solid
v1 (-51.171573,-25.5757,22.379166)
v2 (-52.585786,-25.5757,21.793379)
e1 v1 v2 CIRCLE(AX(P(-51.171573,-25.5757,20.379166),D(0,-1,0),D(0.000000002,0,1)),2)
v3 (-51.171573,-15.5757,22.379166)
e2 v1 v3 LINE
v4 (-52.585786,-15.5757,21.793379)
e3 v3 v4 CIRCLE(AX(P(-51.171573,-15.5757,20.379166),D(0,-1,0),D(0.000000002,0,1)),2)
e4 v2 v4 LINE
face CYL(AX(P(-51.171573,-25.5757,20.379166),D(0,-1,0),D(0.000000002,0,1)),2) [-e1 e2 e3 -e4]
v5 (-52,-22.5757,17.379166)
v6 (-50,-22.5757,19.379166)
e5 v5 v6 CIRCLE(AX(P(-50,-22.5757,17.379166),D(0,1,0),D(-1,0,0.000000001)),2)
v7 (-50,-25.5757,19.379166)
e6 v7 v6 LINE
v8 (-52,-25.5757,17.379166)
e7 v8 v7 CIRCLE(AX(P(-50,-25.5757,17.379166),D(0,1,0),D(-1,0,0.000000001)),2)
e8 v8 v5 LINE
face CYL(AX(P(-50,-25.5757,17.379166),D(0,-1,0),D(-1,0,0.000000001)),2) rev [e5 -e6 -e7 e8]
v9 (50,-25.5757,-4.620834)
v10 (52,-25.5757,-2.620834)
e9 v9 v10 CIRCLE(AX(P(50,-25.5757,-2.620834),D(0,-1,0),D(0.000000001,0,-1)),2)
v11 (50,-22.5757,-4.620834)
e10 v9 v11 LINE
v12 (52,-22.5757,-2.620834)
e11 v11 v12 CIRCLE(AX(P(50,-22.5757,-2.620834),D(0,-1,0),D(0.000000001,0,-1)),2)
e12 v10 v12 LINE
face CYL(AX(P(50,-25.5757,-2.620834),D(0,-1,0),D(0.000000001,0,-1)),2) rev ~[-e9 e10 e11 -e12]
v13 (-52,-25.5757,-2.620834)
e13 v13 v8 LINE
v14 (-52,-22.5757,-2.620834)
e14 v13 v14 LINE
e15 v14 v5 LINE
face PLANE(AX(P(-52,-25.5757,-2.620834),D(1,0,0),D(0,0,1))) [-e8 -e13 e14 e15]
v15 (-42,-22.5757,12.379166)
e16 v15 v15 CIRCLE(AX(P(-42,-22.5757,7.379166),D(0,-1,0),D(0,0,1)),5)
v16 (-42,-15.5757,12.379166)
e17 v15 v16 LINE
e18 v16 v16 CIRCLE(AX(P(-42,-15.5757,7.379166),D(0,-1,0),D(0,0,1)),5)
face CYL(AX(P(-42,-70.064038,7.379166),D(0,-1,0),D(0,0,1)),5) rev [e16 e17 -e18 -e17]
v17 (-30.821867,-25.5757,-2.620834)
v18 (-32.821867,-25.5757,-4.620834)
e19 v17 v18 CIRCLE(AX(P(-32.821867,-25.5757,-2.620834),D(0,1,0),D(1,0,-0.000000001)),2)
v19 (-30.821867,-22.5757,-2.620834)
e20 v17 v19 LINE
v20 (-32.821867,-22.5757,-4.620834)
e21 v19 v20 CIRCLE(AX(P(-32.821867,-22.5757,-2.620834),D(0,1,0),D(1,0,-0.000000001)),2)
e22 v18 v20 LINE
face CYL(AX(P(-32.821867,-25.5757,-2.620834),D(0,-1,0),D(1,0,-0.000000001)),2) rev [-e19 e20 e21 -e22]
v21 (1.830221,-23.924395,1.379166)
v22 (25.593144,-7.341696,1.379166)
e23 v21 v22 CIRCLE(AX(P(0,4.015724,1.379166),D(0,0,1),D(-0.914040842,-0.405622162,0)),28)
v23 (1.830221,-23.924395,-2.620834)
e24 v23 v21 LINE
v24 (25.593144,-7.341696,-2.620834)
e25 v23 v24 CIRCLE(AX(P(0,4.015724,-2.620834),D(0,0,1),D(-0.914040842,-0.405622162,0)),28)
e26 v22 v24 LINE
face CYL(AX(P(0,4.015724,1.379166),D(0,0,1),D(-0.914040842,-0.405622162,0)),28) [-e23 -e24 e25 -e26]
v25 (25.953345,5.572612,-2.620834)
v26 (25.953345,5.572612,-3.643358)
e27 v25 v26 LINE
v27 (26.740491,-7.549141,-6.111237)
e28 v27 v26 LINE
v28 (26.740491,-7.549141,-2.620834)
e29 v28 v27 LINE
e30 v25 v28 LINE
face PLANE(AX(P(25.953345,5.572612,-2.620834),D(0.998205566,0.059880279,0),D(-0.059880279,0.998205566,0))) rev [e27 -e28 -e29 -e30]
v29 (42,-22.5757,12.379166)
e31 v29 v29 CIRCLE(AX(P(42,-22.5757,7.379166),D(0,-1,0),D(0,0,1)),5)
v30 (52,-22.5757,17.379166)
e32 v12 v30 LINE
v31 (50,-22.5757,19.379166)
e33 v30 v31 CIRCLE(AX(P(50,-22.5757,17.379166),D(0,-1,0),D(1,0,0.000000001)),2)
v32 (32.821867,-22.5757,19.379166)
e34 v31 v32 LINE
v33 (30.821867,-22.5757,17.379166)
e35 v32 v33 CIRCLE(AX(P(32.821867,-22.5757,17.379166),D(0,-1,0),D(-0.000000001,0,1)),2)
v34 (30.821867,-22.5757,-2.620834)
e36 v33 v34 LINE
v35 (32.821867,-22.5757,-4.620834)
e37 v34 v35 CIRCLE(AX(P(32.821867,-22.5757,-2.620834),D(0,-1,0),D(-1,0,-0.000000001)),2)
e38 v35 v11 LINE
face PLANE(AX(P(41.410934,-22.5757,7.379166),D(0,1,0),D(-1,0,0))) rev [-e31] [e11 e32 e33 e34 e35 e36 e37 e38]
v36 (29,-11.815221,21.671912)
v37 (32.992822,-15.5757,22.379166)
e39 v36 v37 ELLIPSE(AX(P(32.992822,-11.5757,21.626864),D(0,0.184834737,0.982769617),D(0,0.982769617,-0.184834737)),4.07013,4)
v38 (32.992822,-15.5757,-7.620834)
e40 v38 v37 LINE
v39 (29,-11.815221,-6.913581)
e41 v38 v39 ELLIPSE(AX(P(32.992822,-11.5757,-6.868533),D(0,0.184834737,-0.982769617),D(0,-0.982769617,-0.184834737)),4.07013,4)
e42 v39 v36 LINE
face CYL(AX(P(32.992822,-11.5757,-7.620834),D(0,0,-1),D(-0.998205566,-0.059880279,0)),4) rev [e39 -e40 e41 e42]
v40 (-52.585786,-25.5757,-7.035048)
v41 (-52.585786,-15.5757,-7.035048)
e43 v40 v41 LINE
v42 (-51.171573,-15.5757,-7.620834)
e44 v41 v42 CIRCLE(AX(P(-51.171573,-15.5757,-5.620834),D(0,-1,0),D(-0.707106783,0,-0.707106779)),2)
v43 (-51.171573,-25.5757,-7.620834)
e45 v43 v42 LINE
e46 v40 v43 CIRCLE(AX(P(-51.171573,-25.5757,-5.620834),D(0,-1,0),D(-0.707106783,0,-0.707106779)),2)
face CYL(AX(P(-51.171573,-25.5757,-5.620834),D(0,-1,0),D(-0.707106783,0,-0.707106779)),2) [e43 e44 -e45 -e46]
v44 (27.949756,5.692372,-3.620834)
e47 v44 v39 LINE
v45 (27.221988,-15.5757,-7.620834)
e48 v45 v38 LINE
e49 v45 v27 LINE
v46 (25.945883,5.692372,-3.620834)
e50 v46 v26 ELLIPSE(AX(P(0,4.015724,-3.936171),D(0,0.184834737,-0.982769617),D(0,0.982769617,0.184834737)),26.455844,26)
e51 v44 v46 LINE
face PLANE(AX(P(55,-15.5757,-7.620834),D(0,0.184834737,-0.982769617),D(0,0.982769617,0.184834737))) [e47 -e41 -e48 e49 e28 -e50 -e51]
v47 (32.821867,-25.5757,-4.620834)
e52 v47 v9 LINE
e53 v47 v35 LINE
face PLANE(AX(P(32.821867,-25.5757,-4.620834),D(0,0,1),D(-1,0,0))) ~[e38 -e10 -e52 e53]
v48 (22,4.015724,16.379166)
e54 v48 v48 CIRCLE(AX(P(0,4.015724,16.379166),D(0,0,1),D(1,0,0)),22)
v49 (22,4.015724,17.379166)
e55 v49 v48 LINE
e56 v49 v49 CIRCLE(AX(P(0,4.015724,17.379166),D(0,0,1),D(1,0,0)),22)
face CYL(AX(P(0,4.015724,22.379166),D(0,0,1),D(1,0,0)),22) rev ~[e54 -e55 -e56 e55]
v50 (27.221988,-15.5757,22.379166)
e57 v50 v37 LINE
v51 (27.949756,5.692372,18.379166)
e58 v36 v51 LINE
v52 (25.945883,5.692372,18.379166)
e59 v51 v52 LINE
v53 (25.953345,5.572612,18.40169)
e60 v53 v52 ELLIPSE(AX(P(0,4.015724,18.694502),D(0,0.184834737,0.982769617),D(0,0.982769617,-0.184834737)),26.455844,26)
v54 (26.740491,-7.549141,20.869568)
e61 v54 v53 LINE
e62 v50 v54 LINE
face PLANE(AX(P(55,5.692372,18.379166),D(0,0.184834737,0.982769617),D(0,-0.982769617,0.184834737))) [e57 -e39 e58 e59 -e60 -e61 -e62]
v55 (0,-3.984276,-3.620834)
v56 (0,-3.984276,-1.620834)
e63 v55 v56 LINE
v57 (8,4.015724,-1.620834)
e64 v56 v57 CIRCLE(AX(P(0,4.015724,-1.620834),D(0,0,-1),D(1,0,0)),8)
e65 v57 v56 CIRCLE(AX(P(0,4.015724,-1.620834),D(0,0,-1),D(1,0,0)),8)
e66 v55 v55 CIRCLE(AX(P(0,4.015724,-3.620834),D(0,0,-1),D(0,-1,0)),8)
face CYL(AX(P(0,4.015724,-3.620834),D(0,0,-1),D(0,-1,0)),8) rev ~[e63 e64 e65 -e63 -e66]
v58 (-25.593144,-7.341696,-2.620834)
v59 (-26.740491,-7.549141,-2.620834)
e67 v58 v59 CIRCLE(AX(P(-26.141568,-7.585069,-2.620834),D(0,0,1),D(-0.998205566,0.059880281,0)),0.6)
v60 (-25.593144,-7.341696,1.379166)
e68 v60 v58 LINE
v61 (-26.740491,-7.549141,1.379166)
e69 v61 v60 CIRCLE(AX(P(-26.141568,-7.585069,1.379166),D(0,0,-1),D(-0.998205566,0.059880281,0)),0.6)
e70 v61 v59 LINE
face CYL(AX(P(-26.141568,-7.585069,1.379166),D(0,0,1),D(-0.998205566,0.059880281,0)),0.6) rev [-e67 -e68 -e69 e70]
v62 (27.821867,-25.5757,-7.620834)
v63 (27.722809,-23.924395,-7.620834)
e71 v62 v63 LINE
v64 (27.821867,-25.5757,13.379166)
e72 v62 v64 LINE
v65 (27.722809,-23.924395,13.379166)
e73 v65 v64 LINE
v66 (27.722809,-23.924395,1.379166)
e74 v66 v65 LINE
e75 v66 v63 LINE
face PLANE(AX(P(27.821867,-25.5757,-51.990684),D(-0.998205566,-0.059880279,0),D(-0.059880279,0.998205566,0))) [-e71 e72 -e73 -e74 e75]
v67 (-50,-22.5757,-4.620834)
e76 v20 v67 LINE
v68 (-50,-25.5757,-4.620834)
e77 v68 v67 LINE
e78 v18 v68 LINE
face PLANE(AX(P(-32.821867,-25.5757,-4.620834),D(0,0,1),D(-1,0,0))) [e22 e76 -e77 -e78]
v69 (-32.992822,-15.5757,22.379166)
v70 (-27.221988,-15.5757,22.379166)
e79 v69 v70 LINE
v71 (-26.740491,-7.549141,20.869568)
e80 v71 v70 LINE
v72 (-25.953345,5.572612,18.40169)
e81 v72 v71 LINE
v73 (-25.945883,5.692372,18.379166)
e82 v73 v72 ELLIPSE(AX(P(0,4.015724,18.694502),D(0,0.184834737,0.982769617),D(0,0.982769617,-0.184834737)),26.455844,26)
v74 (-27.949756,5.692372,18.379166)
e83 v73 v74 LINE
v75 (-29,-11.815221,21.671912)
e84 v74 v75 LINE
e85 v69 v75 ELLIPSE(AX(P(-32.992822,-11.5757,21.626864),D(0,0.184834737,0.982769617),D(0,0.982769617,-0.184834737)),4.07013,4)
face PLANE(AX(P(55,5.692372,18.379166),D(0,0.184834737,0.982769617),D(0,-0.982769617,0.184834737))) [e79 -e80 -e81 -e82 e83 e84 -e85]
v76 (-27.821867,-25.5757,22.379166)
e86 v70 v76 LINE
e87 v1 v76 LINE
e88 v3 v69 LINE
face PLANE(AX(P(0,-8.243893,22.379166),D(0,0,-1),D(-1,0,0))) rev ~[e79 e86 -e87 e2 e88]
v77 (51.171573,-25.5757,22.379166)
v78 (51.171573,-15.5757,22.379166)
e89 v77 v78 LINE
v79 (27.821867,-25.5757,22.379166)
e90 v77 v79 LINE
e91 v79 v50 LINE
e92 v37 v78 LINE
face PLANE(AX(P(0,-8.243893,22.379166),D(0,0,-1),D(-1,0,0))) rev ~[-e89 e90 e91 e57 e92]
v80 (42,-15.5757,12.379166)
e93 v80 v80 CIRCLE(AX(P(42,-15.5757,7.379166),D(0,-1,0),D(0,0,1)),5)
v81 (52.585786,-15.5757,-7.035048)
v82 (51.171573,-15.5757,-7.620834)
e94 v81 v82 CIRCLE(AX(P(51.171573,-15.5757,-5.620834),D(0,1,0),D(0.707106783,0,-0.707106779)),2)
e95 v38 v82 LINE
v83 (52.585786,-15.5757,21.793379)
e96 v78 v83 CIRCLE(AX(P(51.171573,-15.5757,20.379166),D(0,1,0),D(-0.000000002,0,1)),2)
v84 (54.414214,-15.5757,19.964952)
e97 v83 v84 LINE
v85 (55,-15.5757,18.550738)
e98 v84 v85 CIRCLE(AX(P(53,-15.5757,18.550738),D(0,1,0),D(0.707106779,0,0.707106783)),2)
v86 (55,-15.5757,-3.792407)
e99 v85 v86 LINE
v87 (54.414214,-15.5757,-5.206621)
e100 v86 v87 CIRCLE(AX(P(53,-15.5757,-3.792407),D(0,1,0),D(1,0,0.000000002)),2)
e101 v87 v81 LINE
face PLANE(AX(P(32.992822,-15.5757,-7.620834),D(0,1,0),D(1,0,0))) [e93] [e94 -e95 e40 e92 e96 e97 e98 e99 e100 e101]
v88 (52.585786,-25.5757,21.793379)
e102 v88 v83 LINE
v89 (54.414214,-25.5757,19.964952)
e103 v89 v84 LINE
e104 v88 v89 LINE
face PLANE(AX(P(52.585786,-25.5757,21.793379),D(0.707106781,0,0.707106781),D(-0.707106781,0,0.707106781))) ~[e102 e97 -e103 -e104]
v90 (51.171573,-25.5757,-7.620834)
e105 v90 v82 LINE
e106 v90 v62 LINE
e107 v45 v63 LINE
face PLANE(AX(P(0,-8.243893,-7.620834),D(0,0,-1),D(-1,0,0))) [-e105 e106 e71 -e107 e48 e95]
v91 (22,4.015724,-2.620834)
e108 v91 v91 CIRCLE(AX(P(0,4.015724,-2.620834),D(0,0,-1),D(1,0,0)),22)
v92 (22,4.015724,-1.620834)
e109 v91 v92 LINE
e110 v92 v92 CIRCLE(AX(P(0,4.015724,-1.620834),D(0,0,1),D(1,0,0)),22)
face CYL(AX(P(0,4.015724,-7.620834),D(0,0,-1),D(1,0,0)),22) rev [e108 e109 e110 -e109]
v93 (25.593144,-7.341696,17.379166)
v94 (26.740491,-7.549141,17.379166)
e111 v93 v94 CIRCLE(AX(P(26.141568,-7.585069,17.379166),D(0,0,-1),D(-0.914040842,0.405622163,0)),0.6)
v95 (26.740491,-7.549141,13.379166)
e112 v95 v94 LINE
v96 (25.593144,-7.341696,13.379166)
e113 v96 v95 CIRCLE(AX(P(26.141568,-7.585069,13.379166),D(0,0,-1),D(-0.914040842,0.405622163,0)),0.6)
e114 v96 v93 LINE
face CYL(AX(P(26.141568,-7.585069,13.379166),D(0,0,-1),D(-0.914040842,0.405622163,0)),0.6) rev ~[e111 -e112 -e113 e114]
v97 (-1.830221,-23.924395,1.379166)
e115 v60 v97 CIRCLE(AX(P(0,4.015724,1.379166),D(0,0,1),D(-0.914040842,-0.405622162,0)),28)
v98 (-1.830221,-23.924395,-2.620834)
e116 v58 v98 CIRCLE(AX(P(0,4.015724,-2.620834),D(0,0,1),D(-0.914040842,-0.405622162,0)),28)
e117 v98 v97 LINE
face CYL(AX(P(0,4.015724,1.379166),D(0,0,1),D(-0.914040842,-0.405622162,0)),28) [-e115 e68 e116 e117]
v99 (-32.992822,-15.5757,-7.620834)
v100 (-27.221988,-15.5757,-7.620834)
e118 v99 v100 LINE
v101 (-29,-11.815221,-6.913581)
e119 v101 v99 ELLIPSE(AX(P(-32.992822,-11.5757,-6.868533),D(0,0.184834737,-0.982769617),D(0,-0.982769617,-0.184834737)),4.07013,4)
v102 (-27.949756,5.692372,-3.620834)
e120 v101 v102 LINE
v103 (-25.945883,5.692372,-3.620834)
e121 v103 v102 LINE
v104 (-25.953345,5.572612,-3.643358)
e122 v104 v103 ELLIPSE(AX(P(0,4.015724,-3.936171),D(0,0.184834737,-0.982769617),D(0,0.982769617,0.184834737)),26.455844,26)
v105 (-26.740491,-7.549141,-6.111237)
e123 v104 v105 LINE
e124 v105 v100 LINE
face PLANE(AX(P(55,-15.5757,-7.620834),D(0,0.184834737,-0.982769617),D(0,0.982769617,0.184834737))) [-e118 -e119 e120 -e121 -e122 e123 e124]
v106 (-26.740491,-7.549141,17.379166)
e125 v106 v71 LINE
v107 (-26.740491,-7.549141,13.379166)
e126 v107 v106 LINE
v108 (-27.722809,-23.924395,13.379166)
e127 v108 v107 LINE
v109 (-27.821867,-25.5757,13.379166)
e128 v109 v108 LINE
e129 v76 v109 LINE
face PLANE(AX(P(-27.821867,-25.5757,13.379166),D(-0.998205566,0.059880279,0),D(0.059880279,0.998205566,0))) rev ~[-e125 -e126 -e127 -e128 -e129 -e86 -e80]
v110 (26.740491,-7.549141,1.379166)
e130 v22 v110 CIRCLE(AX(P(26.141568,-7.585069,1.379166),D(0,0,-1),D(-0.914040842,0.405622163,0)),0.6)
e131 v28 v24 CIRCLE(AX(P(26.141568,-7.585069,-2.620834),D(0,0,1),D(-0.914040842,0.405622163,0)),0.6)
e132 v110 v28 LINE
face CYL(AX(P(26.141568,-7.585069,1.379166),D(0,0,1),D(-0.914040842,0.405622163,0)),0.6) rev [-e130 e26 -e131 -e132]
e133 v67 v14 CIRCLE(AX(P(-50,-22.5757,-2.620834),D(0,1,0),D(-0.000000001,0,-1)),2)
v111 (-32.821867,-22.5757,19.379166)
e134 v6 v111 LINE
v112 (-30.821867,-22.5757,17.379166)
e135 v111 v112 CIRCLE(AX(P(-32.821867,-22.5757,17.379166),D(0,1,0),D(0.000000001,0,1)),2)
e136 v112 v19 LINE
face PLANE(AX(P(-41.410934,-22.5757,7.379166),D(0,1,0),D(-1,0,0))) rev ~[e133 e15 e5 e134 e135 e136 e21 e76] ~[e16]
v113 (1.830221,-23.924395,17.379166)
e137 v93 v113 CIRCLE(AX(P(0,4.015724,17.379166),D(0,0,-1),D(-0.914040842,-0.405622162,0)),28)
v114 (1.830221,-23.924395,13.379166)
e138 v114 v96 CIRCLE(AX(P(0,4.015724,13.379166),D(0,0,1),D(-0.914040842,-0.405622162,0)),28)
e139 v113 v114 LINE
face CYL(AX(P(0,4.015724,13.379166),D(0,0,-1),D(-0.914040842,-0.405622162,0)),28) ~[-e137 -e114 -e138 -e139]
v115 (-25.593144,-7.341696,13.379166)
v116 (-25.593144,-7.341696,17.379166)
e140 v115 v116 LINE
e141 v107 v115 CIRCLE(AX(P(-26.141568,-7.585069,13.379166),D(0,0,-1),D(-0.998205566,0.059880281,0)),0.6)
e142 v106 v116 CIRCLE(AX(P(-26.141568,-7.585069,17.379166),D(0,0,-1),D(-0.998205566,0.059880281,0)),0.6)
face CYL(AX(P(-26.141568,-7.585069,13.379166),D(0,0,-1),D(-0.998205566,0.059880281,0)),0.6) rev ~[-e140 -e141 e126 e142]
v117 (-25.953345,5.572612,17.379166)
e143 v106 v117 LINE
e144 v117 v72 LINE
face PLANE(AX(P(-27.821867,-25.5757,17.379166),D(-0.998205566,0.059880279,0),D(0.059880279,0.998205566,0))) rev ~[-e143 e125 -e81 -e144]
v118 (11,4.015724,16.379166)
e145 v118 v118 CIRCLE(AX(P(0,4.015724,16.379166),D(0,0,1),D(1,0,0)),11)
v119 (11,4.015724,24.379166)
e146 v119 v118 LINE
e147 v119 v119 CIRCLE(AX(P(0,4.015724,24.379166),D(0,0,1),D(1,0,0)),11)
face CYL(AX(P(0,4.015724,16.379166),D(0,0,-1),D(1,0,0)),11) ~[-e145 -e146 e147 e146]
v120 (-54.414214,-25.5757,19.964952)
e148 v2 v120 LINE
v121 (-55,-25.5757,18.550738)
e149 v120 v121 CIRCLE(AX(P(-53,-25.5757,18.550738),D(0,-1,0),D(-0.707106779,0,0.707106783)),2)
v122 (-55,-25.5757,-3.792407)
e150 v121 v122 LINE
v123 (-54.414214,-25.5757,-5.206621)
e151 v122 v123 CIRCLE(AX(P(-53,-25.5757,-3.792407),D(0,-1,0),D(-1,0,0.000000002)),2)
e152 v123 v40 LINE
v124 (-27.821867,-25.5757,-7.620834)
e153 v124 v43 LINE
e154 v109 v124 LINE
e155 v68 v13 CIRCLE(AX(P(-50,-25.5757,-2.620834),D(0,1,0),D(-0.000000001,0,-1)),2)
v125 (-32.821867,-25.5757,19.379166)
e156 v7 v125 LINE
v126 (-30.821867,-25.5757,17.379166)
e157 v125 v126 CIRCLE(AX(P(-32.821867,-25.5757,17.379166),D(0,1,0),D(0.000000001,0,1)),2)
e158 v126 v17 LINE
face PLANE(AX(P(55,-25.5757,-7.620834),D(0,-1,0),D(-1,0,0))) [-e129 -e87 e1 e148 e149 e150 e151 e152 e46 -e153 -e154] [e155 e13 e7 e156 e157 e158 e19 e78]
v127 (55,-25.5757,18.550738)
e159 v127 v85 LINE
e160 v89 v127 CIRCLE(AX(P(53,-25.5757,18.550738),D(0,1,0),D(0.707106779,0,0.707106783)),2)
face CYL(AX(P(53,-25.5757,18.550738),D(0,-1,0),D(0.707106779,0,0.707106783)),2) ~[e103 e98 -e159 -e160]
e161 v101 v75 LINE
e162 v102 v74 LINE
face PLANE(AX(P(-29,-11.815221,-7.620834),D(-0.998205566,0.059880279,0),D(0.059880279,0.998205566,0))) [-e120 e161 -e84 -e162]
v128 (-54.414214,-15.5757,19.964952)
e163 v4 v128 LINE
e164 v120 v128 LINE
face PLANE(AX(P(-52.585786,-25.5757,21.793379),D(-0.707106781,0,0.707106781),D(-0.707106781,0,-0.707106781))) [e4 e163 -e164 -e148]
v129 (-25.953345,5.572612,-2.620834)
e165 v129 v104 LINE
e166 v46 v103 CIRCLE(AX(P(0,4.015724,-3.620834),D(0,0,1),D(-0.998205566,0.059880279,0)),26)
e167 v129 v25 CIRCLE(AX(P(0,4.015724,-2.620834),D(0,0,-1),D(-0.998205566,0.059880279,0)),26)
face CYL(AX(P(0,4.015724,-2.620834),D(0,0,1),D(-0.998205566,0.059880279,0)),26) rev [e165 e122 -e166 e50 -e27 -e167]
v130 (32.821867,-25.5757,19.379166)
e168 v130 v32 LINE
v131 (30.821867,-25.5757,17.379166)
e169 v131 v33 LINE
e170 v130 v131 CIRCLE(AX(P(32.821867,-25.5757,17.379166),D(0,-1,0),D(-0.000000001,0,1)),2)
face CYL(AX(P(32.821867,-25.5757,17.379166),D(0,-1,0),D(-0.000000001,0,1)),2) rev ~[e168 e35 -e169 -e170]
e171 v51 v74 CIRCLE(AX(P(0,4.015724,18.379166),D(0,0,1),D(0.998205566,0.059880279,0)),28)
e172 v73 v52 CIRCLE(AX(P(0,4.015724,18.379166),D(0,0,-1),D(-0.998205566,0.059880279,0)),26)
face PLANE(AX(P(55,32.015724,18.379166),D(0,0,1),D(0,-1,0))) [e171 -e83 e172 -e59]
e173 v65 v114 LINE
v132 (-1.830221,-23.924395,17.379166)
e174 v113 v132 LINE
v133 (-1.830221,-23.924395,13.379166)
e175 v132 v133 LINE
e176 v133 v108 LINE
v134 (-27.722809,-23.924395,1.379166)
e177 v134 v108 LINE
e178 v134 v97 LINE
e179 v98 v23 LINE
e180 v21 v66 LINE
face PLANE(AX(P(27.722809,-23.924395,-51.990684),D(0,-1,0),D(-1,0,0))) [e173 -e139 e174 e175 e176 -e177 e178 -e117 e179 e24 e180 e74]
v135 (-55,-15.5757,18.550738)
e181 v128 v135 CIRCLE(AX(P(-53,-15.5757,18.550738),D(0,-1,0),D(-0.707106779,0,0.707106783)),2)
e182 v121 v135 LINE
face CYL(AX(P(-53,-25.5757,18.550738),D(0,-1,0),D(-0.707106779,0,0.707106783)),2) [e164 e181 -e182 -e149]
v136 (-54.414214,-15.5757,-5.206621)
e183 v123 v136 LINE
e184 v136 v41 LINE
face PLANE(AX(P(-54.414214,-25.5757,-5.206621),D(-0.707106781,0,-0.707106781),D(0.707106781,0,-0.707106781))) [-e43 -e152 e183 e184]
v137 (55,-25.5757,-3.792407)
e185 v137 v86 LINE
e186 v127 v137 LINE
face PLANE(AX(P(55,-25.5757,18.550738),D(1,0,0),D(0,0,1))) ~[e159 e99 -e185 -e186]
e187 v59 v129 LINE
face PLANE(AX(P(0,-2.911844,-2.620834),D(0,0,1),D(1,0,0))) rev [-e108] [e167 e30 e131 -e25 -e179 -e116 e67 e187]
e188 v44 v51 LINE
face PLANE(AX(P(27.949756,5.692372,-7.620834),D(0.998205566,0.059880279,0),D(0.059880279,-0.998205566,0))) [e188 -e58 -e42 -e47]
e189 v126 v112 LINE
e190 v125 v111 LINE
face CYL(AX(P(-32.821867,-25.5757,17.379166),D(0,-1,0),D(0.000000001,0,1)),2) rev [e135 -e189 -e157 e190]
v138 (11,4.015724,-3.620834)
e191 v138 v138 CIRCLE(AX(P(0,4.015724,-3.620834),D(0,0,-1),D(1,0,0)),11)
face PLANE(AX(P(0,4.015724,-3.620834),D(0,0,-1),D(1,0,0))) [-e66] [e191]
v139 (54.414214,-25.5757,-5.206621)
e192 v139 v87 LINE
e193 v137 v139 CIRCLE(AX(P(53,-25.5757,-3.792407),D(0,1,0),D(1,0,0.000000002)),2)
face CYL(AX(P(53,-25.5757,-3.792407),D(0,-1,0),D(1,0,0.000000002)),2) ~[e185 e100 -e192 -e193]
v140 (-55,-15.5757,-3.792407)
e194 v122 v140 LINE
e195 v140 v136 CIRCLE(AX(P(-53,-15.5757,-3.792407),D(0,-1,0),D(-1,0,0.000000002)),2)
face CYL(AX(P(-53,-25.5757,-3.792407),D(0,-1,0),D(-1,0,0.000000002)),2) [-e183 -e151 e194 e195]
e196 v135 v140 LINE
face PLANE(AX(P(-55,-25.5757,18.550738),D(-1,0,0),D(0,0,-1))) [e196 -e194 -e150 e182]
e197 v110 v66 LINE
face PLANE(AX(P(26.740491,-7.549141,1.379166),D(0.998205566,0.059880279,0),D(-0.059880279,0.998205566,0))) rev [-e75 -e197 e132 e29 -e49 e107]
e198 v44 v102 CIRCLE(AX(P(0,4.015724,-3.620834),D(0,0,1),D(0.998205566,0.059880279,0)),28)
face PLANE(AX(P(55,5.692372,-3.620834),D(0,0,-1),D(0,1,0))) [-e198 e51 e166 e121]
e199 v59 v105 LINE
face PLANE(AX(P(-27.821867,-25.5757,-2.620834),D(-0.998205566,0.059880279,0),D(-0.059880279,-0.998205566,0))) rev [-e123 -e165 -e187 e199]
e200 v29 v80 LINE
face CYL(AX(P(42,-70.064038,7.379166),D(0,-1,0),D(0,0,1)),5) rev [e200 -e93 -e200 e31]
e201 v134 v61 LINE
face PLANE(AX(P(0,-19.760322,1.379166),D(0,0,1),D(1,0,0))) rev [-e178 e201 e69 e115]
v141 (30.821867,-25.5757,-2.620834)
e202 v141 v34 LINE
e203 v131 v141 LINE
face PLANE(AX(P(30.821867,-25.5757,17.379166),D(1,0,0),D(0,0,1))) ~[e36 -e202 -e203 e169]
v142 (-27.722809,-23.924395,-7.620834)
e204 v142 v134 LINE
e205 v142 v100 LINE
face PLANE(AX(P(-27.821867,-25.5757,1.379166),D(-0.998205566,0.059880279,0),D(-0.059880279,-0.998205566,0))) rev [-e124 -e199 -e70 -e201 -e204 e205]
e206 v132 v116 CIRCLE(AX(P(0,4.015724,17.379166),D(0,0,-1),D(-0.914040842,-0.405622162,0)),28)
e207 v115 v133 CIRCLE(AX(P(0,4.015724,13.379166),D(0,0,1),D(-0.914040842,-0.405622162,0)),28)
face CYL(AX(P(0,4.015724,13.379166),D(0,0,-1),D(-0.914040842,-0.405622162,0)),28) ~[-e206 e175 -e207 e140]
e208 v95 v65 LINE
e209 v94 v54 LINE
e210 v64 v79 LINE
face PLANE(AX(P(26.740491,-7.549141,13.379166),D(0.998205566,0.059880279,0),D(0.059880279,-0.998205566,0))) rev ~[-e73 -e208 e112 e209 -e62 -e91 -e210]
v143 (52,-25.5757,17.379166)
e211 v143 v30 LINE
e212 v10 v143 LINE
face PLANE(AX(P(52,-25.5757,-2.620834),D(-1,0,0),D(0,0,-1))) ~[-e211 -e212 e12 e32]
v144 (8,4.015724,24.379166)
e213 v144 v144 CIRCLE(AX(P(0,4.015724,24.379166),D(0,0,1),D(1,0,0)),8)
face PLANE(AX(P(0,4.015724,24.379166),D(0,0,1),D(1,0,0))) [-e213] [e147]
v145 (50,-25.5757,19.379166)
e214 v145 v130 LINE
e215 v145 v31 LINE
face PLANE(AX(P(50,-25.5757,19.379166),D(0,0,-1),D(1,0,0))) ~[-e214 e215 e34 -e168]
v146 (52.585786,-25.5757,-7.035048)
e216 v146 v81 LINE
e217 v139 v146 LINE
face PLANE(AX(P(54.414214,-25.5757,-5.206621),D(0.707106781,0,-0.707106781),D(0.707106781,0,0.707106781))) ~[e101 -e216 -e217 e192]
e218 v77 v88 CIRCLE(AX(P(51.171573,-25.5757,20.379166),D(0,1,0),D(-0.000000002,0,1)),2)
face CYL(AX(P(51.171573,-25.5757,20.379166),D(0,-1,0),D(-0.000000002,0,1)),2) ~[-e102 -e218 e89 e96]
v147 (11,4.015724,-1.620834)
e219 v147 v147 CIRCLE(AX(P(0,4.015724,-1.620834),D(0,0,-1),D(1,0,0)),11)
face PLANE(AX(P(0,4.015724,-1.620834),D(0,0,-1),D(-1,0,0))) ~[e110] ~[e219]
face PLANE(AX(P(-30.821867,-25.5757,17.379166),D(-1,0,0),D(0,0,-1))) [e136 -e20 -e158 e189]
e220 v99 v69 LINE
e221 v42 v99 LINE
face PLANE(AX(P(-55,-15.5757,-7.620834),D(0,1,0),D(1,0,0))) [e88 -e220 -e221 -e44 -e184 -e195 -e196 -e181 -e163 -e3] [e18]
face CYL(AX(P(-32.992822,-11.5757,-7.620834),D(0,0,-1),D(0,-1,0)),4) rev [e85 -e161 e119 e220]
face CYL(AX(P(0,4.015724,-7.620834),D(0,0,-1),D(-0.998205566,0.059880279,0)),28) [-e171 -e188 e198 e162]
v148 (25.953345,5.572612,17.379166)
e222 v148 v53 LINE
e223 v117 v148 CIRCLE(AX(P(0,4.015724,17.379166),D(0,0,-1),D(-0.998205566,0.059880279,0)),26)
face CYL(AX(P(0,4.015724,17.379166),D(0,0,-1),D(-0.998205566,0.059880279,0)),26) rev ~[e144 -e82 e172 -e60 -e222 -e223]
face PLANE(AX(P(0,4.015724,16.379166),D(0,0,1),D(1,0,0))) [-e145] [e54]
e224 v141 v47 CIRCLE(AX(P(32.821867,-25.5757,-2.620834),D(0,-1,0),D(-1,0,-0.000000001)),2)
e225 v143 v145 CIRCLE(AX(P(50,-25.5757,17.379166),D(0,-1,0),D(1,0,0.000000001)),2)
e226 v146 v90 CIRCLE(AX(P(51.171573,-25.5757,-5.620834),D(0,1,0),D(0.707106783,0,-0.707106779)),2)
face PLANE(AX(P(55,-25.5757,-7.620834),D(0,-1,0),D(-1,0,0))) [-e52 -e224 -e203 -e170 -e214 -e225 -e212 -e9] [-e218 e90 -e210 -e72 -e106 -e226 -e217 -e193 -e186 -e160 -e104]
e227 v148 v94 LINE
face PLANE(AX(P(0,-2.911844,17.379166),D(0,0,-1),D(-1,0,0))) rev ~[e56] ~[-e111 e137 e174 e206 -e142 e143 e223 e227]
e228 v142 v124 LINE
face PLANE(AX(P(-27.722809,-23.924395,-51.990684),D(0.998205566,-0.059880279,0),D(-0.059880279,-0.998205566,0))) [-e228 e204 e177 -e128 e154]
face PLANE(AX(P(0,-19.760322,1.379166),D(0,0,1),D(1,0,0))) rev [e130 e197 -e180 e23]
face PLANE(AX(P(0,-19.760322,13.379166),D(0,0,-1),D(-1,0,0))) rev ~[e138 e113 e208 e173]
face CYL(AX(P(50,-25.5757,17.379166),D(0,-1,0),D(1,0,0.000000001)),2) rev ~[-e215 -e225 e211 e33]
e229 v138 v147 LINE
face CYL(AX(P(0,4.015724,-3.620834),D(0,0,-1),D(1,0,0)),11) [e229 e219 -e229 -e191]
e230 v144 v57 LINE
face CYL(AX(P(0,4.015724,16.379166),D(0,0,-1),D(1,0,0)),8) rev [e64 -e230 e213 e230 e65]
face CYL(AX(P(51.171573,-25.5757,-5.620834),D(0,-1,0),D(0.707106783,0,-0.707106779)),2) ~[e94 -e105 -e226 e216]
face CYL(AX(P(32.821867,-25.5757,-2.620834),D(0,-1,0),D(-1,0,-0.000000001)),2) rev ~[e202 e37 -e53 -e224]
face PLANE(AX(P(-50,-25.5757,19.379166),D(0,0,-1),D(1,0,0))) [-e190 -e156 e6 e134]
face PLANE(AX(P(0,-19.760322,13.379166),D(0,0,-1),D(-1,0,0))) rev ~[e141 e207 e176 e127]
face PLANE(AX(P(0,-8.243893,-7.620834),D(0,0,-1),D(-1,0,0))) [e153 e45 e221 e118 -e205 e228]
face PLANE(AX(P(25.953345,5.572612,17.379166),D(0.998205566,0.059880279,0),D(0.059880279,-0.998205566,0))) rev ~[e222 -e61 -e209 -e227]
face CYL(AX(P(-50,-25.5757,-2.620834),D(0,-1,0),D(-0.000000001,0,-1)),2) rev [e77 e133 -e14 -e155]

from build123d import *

# Parameters (mm, degrees)
CROQUIS1_R                 = 4
SALIENTE_EXTRUIR1_DEPTH    = 15
CROQUIS2_R                 = 11
CORTAR_EXTRUIR1_DEPTH      = 3
CROQUIS3_R                 = 5.5
CROQUIS3_R_2               = 4
SALIENTE_EXTRUIR2_DEPTH    = 4
CORTAR_EXTRUIR2_DEPTH      = 36.134373023
CORTAR_EXTRUIR2_DEPTH_BACK = 36.134373023
CROQUIS4_R                 = 2.5
CORTAR_EXTRUIR3_START      = -4.5
CORTAR_EXTRUIR3_DEPTH      = 4.5
CORTAR_EXTRUIR4_START      = -2.5
CROQUIS8_R                 = 5.5
CORTAR_EXTRUIR4_DEPTH      = 2.5
CORTAR_EXTRUIR5_DEPTH      = 34.684924933
CORTAR_EXTRUIR5_DEPTH_BACK = 34.684924933
CORTAR_EXTRUIR6_REACH      = 61.188
CORTAR_EXTRUIR7_DEPTH      = 5
CORTAR_EXTRUIR8_DEPTH      = 1.5
SALIENTE_EXTRUIR3_START    = 1
CROQUIS13_R                = 5.5
CROQUIS13_R_2              = 4
SALIENTE_EXTRUIR3_DEPTH    = 1
SCALE1_SCALE               = 2


with BuildPart() as part:
    # Croquis1 → Saliente-Extruir1 (new body)
    with BuildSketch(Plane.XY):
        with BuildLine():
            Line((27.5, -13.890204062), (-27.5, -13.890204062))
            Line((-27.5, -13.890204062), (-27.5, -8.890204062))
            Line((-27.5, -8.890204062), (-16.496411132, -8.890204062))
            ThreePointArc((-16.496411132, -8.890204062), (-15.125192899, -8.346143813), (-14.5, -7.009964621))
            Line((-14.5, -7.009964621), (-13.974877925, 1.743831875))
            ThreePointArc((-13.974877925, 1.743831875), (0, 14.905507967), (13.974877925, 1.743831875))
            Line((13.974877925, 1.743831875), (14.5, -7.009964621))
            ThreePointArc((14.5, -7.009964621), (15.125192899, -8.346143813), (16.496411132, -8.890204062))
            Line((16.496411132, -8.890204062), (27.5, -8.890204062))
            Line((27.5, -8.890204062), (27.5, -13.890204062))
        make_face()
        with Locations((0, 0.905507967)):
            Circle(CROQUIS1_R, mode=Mode.SUBTRACT)
    extrude(amount=SALIENTE_EXTRUIR1_DEPTH)

    # Croquis2 → Cortar-Extruir1 (cut)
    with BuildSketch(Plane.XY.offset(15)):
        with Locations((0, 0.905507967)):
            Circle(CROQUIS2_R)
    cortar_extruir1 = extrude(amount=-CORTAR_EXTRUIR1_DEPTH, mode=Mode.SUBTRACT)

    # Croquis3 → Saliente-Extruir2 (add)
    with BuildSketch(Plane.XY.offset(12)):
        with Locations((0, 0.905507967)):
            Circle(CROQUIS3_R)
        with Locations((0, 0.905507967)):
            Circle(CROQUIS3_R_2, mode=Mode.SUBTRACT)
    extrude(amount=SALIENTE_EXTRUIR2_DEPTH)

    # Croquis4 → Cortar-Extruir2 (cut, two sides: drawn at the far end of the back side and taken through both)
    with BuildSketch(Plane(origin=(0, 0, 0), x_dir=(1, 0, 0), z_dir=(0, 1, 0)).offset(-CORTAR_EXTRUIR2_DEPTH_BACK)):
        with Locations(Location((-21, -7.5, 0), (0, 0, 270))):
            Circle(CROQUIS4_R)
        with Locations(Location((21, -7.5, 0), (0, 0, 270))):
            Circle(CROQUIS4_R)
    extrude(amount=CORTAR_EXTRUIR2_DEPTH + CORTAR_EXTRUIR2_DEPTH_BACK, mode=Mode.SUBTRACT)

    # Simetría1: Cortar-Extruir1 across plane
    add(cortar_extruir1.mirror(Plane.XY.offset(7.5)), mode=Mode.SUBTRACT)

    # Croquis7 → Cortar-Extruir3 (cut)
    with BuildSketch(Plane.XY.offset(15).offset(CORTAR_EXTRUIR3_START)):
        with BuildLine():
            Line((-13.910933618, -13.890204062), (-13.370245715, -4.876924871))
            ThreePointArc((-13.370245715, -4.876924871), (-13.124159844, -4.599675432), (-12.796571792, -4.773202306))
            ThreePointArc((-12.796571792, -4.773202306), (0, -13.094492033), (12.796571792, -4.773202306))
            ThreePointArc((12.796571792, -4.773202306), (13.124159844, -4.599675432), (13.370245715, -4.876924871))
            Line((13.370245715, -4.876924871), (13.910933618, -13.890204062))
            Line((13.910933618, -13.890204062), (-13.910933618, -13.890204062))
        make_face()
    cortar_extruir3 = extrude(amount=CORTAR_EXTRUIR3_DEPTH, mode=Mode.SUBTRACT)

    # Croquis8 → Cortar-Extruir4 (cut)
    with BuildSketch(Plane.XY.offset(15).offset(CORTAR_EXTRUIR4_START)):
        with BuildLine():
            Line((-13.910933618, -13.890204062), (-12.976672359, 1.683951596))
            ThreePointArc((-12.976672359, 1.683951596), (0, 13.905507967), (12.976672359, 1.683951596))
            Line((12.976672359, 1.683951596), (13.910933618, -13.890204062))
            Line((13.910933618, -13.890204062), (-13.910933618, -13.890204062))
        make_face()
        with Locations((0, 0.905507967)):
            Circle(CROQUIS8_R, mode=Mode.SUBTRACT)
    cortar_extruir4 = extrude(amount=CORTAR_EXTRUIR4_DEPTH, mode=Mode.SUBTRACT)

    # Croquis9 → Cortar-Extruir5 (cut, two sides: drawn at the far end of the back side and taken through both)
    with BuildSketch(Plane.XY.offset(12.5).offset(-CORTAR_EXTRUIR5_DEPTH_BACK)):
        Polygon((13.910933618, -13.890204062), (13.861404459, -13.064551894), (-13.861404459, -13.064551894), (-13.910933618, -13.890204062), align=None)
    extrude(amount=CORTAR_EXTRUIR5_DEPTH + CORTAR_EXTRUIR5_DEPTH_BACK, mode=Mode.SUBTRACT)

    # Croquis10 → Cortar-Extruir6 (cut, up to next)
    with BuildSketch(Plane(origin=(27.5, 0, 0), x_dir=(0, 0, -1), z_dir=(1, 0, 0)), mode=Mode.PRIVATE) as cortar_extruir6_sk1:
        Polygon((-15, 15.98971015), (-13, 14.905507967), (-13, 1.743831875), (-15, -8.890204062), align=None)
    cortar_extruir6_tool1 = extrude(cortar_extruir6_sk1.sketch, amount=-CORTAR_EXTRUIR6_REACH, mode=Mode.PRIVATE) & part.part
    # Croquis10 → Cortar-Extruir6 (cut, up to next)
    with BuildSketch(Plane(origin=(27.5, 0, 0), x_dir=(0, 0, -1), z_dir=(1, 0, 0)), mode=Mode.PRIVATE) as cortar_extruir6_sk2:
        Polygon((-2, 14.905507967), (0, 15.98971015), (0, -8.890204062), (-2, 1.743831875), align=None)
    cortar_extruir6_tool2 = extrude(cortar_extruir6_sk2.sketch, amount=-CORTAR_EXTRUIR6_REACH, mode=Mode.PRIVATE) & part.part
    add(cortar_extruir6_tool1.solids().sort_by_distance((27.5, 5.692069, 14.102679))[0], mode=Mode.SUBTRACT)
    add(cortar_extruir6_tool2.solids().sort_by_distance((27.5, 5.692069, 0.897321))[0], mode=Mode.SUBTRACT)

    # Croquis11 → Cortar-Extruir7 (cut)
    with BuildSketch(Plane.XZ.offset(13.890204062)):
        with BuildLine():
            Line((-26.292893219, 14.707106781), (-27.207106781, 13.792893219))
            ThreePointArc((-27.207106781, 13.792893219), (-27.423879533, 13.46846987), (-27.5, 13.085786438))
            Line((-27.5, 13.085786438), (-27.5, 1.914213562))
            ThreePointArc((-27.5, 1.914213562), (-27.423879533, 1.53153013), (-27.207106781, 1.207106781))
            Line((-27.207106781, 1.207106781), (-26.292893219, 0.292893219))
            ThreePointArc((-26.292893219, 0.292893219), (-25.96846987, 0.076120467), (-25.585786438, 0))
            Line((-25.585786438, 0), (-15.540514777, 0))
            Line((-15.540514777, 0), (-15.540514777, -5.530731653))
            Line((-15.540514777, -5.530731653), (-33.970258, -5.530731653))
            Line((-33.970258, -5.530731653), (-33.970258, 16.269467594))
            Line((-33.970258, 16.269467594), (-15.540514777, 16.269467594))
            Line((-15.540514777, 16.269467594), (-15.540514777, 15))
            Line((-15.540514777, 15), (-25.585786438, 15))
            ThreePointArc((-25.585786438, 15), (-25.96846987, 14.923879533), (-26.292893219, 14.707106781))
        make_face()
    cortar_extruir7 = extrude(amount=-CORTAR_EXTRUIR7_DEPTH, mode=Mode.SUBTRACT)

    # Croquis12 → Cortar-Extruir8 (cut)
    with BuildSketch(Plane.XZ.offset(13.890204062)):
        with BuildLine():
            Line((-25, 13.5), (-16.410933618, 13.5))
            ThreePointArc((-16.410933618, 13.5), (-15.703826837, 13.207106781), (-15.410933618, 12.5))
            Line((-15.410933618, 12.5), (-15.410933618, 2.5))
            ThreePointArc((-15.410933618, 2.5), (-15.703826837, 1.792893219), (-16.410933618, 1.5))
            Line((-16.410933618, 1.5), (-25, 1.5))
            ThreePointArc((-25, 1.5), (-25.707106781, 1.792893219), (-26, 2.5))
            Line((-26, 2.5), (-26, 12.5))
            ThreePointArc((-26, 12.5), (-25.707106781, 13.207106781), (-25, 13.5))
        make_face()
    cortar_extruir8 = extrude(amount=-CORTAR_EXTRUIR8_DEPTH, mode=Mode.SUBTRACT)

    # Simetría2: Cortar-Extruir7, Cortar-Extruir8 across plane
    add(cortar_extruir7.mirror(Plane(origin=(0, 0, 0), x_dir=(0, 0, 1), z_dir=(1, 0, 0))), mode=Mode.SUBTRACT)
    add(cortar_extruir8.mirror(Plane(origin=(0, 0, 0), x_dir=(0, 0, 1), z_dir=(1, 0, 0))), mode=Mode.SUBTRACT)

    # Simetría4: Cortar-Extruir3, Cortar-Extruir4 across plane
    add(cortar_extruir3.mirror(Plane.XY.offset(7.5)), mode=Mode.SUBTRACT)
    add(cortar_extruir4.mirror(Plane.XY.offset(7.5)), mode=Mode.SUBTRACT)

    # Croquis13 → Saliente-Extruir3 (add)
    with BuildSketch(Plane(origin=(0, 0, 3), x_dir=(-1, 0, 0), z_dir=(0, 0, -1)).offset(SALIENTE_EXTRUIR3_START)):
        with Locations(Location((0, 0.905507967, 0), (0, 0, 180))):
            Circle(CROQUIS13_R)
        with Locations(Location((0, 0.905507967, 0), (0, 0, 270))):
            Circle(CROQUIS13_R_2, mode=Mode.SUBTRACT)
    extrude(amount=-SALIENTE_EXTRUIR3_DEPTH)


with BuildPart() as part_1:
    # Scale1: scaled about (0, -2.204708481, 7.62083442)
    add(part.part.scale(SCALE1_SCALE).moved(Location((0, 2.204708481, -7.62083442))))


solid = part_1.part
